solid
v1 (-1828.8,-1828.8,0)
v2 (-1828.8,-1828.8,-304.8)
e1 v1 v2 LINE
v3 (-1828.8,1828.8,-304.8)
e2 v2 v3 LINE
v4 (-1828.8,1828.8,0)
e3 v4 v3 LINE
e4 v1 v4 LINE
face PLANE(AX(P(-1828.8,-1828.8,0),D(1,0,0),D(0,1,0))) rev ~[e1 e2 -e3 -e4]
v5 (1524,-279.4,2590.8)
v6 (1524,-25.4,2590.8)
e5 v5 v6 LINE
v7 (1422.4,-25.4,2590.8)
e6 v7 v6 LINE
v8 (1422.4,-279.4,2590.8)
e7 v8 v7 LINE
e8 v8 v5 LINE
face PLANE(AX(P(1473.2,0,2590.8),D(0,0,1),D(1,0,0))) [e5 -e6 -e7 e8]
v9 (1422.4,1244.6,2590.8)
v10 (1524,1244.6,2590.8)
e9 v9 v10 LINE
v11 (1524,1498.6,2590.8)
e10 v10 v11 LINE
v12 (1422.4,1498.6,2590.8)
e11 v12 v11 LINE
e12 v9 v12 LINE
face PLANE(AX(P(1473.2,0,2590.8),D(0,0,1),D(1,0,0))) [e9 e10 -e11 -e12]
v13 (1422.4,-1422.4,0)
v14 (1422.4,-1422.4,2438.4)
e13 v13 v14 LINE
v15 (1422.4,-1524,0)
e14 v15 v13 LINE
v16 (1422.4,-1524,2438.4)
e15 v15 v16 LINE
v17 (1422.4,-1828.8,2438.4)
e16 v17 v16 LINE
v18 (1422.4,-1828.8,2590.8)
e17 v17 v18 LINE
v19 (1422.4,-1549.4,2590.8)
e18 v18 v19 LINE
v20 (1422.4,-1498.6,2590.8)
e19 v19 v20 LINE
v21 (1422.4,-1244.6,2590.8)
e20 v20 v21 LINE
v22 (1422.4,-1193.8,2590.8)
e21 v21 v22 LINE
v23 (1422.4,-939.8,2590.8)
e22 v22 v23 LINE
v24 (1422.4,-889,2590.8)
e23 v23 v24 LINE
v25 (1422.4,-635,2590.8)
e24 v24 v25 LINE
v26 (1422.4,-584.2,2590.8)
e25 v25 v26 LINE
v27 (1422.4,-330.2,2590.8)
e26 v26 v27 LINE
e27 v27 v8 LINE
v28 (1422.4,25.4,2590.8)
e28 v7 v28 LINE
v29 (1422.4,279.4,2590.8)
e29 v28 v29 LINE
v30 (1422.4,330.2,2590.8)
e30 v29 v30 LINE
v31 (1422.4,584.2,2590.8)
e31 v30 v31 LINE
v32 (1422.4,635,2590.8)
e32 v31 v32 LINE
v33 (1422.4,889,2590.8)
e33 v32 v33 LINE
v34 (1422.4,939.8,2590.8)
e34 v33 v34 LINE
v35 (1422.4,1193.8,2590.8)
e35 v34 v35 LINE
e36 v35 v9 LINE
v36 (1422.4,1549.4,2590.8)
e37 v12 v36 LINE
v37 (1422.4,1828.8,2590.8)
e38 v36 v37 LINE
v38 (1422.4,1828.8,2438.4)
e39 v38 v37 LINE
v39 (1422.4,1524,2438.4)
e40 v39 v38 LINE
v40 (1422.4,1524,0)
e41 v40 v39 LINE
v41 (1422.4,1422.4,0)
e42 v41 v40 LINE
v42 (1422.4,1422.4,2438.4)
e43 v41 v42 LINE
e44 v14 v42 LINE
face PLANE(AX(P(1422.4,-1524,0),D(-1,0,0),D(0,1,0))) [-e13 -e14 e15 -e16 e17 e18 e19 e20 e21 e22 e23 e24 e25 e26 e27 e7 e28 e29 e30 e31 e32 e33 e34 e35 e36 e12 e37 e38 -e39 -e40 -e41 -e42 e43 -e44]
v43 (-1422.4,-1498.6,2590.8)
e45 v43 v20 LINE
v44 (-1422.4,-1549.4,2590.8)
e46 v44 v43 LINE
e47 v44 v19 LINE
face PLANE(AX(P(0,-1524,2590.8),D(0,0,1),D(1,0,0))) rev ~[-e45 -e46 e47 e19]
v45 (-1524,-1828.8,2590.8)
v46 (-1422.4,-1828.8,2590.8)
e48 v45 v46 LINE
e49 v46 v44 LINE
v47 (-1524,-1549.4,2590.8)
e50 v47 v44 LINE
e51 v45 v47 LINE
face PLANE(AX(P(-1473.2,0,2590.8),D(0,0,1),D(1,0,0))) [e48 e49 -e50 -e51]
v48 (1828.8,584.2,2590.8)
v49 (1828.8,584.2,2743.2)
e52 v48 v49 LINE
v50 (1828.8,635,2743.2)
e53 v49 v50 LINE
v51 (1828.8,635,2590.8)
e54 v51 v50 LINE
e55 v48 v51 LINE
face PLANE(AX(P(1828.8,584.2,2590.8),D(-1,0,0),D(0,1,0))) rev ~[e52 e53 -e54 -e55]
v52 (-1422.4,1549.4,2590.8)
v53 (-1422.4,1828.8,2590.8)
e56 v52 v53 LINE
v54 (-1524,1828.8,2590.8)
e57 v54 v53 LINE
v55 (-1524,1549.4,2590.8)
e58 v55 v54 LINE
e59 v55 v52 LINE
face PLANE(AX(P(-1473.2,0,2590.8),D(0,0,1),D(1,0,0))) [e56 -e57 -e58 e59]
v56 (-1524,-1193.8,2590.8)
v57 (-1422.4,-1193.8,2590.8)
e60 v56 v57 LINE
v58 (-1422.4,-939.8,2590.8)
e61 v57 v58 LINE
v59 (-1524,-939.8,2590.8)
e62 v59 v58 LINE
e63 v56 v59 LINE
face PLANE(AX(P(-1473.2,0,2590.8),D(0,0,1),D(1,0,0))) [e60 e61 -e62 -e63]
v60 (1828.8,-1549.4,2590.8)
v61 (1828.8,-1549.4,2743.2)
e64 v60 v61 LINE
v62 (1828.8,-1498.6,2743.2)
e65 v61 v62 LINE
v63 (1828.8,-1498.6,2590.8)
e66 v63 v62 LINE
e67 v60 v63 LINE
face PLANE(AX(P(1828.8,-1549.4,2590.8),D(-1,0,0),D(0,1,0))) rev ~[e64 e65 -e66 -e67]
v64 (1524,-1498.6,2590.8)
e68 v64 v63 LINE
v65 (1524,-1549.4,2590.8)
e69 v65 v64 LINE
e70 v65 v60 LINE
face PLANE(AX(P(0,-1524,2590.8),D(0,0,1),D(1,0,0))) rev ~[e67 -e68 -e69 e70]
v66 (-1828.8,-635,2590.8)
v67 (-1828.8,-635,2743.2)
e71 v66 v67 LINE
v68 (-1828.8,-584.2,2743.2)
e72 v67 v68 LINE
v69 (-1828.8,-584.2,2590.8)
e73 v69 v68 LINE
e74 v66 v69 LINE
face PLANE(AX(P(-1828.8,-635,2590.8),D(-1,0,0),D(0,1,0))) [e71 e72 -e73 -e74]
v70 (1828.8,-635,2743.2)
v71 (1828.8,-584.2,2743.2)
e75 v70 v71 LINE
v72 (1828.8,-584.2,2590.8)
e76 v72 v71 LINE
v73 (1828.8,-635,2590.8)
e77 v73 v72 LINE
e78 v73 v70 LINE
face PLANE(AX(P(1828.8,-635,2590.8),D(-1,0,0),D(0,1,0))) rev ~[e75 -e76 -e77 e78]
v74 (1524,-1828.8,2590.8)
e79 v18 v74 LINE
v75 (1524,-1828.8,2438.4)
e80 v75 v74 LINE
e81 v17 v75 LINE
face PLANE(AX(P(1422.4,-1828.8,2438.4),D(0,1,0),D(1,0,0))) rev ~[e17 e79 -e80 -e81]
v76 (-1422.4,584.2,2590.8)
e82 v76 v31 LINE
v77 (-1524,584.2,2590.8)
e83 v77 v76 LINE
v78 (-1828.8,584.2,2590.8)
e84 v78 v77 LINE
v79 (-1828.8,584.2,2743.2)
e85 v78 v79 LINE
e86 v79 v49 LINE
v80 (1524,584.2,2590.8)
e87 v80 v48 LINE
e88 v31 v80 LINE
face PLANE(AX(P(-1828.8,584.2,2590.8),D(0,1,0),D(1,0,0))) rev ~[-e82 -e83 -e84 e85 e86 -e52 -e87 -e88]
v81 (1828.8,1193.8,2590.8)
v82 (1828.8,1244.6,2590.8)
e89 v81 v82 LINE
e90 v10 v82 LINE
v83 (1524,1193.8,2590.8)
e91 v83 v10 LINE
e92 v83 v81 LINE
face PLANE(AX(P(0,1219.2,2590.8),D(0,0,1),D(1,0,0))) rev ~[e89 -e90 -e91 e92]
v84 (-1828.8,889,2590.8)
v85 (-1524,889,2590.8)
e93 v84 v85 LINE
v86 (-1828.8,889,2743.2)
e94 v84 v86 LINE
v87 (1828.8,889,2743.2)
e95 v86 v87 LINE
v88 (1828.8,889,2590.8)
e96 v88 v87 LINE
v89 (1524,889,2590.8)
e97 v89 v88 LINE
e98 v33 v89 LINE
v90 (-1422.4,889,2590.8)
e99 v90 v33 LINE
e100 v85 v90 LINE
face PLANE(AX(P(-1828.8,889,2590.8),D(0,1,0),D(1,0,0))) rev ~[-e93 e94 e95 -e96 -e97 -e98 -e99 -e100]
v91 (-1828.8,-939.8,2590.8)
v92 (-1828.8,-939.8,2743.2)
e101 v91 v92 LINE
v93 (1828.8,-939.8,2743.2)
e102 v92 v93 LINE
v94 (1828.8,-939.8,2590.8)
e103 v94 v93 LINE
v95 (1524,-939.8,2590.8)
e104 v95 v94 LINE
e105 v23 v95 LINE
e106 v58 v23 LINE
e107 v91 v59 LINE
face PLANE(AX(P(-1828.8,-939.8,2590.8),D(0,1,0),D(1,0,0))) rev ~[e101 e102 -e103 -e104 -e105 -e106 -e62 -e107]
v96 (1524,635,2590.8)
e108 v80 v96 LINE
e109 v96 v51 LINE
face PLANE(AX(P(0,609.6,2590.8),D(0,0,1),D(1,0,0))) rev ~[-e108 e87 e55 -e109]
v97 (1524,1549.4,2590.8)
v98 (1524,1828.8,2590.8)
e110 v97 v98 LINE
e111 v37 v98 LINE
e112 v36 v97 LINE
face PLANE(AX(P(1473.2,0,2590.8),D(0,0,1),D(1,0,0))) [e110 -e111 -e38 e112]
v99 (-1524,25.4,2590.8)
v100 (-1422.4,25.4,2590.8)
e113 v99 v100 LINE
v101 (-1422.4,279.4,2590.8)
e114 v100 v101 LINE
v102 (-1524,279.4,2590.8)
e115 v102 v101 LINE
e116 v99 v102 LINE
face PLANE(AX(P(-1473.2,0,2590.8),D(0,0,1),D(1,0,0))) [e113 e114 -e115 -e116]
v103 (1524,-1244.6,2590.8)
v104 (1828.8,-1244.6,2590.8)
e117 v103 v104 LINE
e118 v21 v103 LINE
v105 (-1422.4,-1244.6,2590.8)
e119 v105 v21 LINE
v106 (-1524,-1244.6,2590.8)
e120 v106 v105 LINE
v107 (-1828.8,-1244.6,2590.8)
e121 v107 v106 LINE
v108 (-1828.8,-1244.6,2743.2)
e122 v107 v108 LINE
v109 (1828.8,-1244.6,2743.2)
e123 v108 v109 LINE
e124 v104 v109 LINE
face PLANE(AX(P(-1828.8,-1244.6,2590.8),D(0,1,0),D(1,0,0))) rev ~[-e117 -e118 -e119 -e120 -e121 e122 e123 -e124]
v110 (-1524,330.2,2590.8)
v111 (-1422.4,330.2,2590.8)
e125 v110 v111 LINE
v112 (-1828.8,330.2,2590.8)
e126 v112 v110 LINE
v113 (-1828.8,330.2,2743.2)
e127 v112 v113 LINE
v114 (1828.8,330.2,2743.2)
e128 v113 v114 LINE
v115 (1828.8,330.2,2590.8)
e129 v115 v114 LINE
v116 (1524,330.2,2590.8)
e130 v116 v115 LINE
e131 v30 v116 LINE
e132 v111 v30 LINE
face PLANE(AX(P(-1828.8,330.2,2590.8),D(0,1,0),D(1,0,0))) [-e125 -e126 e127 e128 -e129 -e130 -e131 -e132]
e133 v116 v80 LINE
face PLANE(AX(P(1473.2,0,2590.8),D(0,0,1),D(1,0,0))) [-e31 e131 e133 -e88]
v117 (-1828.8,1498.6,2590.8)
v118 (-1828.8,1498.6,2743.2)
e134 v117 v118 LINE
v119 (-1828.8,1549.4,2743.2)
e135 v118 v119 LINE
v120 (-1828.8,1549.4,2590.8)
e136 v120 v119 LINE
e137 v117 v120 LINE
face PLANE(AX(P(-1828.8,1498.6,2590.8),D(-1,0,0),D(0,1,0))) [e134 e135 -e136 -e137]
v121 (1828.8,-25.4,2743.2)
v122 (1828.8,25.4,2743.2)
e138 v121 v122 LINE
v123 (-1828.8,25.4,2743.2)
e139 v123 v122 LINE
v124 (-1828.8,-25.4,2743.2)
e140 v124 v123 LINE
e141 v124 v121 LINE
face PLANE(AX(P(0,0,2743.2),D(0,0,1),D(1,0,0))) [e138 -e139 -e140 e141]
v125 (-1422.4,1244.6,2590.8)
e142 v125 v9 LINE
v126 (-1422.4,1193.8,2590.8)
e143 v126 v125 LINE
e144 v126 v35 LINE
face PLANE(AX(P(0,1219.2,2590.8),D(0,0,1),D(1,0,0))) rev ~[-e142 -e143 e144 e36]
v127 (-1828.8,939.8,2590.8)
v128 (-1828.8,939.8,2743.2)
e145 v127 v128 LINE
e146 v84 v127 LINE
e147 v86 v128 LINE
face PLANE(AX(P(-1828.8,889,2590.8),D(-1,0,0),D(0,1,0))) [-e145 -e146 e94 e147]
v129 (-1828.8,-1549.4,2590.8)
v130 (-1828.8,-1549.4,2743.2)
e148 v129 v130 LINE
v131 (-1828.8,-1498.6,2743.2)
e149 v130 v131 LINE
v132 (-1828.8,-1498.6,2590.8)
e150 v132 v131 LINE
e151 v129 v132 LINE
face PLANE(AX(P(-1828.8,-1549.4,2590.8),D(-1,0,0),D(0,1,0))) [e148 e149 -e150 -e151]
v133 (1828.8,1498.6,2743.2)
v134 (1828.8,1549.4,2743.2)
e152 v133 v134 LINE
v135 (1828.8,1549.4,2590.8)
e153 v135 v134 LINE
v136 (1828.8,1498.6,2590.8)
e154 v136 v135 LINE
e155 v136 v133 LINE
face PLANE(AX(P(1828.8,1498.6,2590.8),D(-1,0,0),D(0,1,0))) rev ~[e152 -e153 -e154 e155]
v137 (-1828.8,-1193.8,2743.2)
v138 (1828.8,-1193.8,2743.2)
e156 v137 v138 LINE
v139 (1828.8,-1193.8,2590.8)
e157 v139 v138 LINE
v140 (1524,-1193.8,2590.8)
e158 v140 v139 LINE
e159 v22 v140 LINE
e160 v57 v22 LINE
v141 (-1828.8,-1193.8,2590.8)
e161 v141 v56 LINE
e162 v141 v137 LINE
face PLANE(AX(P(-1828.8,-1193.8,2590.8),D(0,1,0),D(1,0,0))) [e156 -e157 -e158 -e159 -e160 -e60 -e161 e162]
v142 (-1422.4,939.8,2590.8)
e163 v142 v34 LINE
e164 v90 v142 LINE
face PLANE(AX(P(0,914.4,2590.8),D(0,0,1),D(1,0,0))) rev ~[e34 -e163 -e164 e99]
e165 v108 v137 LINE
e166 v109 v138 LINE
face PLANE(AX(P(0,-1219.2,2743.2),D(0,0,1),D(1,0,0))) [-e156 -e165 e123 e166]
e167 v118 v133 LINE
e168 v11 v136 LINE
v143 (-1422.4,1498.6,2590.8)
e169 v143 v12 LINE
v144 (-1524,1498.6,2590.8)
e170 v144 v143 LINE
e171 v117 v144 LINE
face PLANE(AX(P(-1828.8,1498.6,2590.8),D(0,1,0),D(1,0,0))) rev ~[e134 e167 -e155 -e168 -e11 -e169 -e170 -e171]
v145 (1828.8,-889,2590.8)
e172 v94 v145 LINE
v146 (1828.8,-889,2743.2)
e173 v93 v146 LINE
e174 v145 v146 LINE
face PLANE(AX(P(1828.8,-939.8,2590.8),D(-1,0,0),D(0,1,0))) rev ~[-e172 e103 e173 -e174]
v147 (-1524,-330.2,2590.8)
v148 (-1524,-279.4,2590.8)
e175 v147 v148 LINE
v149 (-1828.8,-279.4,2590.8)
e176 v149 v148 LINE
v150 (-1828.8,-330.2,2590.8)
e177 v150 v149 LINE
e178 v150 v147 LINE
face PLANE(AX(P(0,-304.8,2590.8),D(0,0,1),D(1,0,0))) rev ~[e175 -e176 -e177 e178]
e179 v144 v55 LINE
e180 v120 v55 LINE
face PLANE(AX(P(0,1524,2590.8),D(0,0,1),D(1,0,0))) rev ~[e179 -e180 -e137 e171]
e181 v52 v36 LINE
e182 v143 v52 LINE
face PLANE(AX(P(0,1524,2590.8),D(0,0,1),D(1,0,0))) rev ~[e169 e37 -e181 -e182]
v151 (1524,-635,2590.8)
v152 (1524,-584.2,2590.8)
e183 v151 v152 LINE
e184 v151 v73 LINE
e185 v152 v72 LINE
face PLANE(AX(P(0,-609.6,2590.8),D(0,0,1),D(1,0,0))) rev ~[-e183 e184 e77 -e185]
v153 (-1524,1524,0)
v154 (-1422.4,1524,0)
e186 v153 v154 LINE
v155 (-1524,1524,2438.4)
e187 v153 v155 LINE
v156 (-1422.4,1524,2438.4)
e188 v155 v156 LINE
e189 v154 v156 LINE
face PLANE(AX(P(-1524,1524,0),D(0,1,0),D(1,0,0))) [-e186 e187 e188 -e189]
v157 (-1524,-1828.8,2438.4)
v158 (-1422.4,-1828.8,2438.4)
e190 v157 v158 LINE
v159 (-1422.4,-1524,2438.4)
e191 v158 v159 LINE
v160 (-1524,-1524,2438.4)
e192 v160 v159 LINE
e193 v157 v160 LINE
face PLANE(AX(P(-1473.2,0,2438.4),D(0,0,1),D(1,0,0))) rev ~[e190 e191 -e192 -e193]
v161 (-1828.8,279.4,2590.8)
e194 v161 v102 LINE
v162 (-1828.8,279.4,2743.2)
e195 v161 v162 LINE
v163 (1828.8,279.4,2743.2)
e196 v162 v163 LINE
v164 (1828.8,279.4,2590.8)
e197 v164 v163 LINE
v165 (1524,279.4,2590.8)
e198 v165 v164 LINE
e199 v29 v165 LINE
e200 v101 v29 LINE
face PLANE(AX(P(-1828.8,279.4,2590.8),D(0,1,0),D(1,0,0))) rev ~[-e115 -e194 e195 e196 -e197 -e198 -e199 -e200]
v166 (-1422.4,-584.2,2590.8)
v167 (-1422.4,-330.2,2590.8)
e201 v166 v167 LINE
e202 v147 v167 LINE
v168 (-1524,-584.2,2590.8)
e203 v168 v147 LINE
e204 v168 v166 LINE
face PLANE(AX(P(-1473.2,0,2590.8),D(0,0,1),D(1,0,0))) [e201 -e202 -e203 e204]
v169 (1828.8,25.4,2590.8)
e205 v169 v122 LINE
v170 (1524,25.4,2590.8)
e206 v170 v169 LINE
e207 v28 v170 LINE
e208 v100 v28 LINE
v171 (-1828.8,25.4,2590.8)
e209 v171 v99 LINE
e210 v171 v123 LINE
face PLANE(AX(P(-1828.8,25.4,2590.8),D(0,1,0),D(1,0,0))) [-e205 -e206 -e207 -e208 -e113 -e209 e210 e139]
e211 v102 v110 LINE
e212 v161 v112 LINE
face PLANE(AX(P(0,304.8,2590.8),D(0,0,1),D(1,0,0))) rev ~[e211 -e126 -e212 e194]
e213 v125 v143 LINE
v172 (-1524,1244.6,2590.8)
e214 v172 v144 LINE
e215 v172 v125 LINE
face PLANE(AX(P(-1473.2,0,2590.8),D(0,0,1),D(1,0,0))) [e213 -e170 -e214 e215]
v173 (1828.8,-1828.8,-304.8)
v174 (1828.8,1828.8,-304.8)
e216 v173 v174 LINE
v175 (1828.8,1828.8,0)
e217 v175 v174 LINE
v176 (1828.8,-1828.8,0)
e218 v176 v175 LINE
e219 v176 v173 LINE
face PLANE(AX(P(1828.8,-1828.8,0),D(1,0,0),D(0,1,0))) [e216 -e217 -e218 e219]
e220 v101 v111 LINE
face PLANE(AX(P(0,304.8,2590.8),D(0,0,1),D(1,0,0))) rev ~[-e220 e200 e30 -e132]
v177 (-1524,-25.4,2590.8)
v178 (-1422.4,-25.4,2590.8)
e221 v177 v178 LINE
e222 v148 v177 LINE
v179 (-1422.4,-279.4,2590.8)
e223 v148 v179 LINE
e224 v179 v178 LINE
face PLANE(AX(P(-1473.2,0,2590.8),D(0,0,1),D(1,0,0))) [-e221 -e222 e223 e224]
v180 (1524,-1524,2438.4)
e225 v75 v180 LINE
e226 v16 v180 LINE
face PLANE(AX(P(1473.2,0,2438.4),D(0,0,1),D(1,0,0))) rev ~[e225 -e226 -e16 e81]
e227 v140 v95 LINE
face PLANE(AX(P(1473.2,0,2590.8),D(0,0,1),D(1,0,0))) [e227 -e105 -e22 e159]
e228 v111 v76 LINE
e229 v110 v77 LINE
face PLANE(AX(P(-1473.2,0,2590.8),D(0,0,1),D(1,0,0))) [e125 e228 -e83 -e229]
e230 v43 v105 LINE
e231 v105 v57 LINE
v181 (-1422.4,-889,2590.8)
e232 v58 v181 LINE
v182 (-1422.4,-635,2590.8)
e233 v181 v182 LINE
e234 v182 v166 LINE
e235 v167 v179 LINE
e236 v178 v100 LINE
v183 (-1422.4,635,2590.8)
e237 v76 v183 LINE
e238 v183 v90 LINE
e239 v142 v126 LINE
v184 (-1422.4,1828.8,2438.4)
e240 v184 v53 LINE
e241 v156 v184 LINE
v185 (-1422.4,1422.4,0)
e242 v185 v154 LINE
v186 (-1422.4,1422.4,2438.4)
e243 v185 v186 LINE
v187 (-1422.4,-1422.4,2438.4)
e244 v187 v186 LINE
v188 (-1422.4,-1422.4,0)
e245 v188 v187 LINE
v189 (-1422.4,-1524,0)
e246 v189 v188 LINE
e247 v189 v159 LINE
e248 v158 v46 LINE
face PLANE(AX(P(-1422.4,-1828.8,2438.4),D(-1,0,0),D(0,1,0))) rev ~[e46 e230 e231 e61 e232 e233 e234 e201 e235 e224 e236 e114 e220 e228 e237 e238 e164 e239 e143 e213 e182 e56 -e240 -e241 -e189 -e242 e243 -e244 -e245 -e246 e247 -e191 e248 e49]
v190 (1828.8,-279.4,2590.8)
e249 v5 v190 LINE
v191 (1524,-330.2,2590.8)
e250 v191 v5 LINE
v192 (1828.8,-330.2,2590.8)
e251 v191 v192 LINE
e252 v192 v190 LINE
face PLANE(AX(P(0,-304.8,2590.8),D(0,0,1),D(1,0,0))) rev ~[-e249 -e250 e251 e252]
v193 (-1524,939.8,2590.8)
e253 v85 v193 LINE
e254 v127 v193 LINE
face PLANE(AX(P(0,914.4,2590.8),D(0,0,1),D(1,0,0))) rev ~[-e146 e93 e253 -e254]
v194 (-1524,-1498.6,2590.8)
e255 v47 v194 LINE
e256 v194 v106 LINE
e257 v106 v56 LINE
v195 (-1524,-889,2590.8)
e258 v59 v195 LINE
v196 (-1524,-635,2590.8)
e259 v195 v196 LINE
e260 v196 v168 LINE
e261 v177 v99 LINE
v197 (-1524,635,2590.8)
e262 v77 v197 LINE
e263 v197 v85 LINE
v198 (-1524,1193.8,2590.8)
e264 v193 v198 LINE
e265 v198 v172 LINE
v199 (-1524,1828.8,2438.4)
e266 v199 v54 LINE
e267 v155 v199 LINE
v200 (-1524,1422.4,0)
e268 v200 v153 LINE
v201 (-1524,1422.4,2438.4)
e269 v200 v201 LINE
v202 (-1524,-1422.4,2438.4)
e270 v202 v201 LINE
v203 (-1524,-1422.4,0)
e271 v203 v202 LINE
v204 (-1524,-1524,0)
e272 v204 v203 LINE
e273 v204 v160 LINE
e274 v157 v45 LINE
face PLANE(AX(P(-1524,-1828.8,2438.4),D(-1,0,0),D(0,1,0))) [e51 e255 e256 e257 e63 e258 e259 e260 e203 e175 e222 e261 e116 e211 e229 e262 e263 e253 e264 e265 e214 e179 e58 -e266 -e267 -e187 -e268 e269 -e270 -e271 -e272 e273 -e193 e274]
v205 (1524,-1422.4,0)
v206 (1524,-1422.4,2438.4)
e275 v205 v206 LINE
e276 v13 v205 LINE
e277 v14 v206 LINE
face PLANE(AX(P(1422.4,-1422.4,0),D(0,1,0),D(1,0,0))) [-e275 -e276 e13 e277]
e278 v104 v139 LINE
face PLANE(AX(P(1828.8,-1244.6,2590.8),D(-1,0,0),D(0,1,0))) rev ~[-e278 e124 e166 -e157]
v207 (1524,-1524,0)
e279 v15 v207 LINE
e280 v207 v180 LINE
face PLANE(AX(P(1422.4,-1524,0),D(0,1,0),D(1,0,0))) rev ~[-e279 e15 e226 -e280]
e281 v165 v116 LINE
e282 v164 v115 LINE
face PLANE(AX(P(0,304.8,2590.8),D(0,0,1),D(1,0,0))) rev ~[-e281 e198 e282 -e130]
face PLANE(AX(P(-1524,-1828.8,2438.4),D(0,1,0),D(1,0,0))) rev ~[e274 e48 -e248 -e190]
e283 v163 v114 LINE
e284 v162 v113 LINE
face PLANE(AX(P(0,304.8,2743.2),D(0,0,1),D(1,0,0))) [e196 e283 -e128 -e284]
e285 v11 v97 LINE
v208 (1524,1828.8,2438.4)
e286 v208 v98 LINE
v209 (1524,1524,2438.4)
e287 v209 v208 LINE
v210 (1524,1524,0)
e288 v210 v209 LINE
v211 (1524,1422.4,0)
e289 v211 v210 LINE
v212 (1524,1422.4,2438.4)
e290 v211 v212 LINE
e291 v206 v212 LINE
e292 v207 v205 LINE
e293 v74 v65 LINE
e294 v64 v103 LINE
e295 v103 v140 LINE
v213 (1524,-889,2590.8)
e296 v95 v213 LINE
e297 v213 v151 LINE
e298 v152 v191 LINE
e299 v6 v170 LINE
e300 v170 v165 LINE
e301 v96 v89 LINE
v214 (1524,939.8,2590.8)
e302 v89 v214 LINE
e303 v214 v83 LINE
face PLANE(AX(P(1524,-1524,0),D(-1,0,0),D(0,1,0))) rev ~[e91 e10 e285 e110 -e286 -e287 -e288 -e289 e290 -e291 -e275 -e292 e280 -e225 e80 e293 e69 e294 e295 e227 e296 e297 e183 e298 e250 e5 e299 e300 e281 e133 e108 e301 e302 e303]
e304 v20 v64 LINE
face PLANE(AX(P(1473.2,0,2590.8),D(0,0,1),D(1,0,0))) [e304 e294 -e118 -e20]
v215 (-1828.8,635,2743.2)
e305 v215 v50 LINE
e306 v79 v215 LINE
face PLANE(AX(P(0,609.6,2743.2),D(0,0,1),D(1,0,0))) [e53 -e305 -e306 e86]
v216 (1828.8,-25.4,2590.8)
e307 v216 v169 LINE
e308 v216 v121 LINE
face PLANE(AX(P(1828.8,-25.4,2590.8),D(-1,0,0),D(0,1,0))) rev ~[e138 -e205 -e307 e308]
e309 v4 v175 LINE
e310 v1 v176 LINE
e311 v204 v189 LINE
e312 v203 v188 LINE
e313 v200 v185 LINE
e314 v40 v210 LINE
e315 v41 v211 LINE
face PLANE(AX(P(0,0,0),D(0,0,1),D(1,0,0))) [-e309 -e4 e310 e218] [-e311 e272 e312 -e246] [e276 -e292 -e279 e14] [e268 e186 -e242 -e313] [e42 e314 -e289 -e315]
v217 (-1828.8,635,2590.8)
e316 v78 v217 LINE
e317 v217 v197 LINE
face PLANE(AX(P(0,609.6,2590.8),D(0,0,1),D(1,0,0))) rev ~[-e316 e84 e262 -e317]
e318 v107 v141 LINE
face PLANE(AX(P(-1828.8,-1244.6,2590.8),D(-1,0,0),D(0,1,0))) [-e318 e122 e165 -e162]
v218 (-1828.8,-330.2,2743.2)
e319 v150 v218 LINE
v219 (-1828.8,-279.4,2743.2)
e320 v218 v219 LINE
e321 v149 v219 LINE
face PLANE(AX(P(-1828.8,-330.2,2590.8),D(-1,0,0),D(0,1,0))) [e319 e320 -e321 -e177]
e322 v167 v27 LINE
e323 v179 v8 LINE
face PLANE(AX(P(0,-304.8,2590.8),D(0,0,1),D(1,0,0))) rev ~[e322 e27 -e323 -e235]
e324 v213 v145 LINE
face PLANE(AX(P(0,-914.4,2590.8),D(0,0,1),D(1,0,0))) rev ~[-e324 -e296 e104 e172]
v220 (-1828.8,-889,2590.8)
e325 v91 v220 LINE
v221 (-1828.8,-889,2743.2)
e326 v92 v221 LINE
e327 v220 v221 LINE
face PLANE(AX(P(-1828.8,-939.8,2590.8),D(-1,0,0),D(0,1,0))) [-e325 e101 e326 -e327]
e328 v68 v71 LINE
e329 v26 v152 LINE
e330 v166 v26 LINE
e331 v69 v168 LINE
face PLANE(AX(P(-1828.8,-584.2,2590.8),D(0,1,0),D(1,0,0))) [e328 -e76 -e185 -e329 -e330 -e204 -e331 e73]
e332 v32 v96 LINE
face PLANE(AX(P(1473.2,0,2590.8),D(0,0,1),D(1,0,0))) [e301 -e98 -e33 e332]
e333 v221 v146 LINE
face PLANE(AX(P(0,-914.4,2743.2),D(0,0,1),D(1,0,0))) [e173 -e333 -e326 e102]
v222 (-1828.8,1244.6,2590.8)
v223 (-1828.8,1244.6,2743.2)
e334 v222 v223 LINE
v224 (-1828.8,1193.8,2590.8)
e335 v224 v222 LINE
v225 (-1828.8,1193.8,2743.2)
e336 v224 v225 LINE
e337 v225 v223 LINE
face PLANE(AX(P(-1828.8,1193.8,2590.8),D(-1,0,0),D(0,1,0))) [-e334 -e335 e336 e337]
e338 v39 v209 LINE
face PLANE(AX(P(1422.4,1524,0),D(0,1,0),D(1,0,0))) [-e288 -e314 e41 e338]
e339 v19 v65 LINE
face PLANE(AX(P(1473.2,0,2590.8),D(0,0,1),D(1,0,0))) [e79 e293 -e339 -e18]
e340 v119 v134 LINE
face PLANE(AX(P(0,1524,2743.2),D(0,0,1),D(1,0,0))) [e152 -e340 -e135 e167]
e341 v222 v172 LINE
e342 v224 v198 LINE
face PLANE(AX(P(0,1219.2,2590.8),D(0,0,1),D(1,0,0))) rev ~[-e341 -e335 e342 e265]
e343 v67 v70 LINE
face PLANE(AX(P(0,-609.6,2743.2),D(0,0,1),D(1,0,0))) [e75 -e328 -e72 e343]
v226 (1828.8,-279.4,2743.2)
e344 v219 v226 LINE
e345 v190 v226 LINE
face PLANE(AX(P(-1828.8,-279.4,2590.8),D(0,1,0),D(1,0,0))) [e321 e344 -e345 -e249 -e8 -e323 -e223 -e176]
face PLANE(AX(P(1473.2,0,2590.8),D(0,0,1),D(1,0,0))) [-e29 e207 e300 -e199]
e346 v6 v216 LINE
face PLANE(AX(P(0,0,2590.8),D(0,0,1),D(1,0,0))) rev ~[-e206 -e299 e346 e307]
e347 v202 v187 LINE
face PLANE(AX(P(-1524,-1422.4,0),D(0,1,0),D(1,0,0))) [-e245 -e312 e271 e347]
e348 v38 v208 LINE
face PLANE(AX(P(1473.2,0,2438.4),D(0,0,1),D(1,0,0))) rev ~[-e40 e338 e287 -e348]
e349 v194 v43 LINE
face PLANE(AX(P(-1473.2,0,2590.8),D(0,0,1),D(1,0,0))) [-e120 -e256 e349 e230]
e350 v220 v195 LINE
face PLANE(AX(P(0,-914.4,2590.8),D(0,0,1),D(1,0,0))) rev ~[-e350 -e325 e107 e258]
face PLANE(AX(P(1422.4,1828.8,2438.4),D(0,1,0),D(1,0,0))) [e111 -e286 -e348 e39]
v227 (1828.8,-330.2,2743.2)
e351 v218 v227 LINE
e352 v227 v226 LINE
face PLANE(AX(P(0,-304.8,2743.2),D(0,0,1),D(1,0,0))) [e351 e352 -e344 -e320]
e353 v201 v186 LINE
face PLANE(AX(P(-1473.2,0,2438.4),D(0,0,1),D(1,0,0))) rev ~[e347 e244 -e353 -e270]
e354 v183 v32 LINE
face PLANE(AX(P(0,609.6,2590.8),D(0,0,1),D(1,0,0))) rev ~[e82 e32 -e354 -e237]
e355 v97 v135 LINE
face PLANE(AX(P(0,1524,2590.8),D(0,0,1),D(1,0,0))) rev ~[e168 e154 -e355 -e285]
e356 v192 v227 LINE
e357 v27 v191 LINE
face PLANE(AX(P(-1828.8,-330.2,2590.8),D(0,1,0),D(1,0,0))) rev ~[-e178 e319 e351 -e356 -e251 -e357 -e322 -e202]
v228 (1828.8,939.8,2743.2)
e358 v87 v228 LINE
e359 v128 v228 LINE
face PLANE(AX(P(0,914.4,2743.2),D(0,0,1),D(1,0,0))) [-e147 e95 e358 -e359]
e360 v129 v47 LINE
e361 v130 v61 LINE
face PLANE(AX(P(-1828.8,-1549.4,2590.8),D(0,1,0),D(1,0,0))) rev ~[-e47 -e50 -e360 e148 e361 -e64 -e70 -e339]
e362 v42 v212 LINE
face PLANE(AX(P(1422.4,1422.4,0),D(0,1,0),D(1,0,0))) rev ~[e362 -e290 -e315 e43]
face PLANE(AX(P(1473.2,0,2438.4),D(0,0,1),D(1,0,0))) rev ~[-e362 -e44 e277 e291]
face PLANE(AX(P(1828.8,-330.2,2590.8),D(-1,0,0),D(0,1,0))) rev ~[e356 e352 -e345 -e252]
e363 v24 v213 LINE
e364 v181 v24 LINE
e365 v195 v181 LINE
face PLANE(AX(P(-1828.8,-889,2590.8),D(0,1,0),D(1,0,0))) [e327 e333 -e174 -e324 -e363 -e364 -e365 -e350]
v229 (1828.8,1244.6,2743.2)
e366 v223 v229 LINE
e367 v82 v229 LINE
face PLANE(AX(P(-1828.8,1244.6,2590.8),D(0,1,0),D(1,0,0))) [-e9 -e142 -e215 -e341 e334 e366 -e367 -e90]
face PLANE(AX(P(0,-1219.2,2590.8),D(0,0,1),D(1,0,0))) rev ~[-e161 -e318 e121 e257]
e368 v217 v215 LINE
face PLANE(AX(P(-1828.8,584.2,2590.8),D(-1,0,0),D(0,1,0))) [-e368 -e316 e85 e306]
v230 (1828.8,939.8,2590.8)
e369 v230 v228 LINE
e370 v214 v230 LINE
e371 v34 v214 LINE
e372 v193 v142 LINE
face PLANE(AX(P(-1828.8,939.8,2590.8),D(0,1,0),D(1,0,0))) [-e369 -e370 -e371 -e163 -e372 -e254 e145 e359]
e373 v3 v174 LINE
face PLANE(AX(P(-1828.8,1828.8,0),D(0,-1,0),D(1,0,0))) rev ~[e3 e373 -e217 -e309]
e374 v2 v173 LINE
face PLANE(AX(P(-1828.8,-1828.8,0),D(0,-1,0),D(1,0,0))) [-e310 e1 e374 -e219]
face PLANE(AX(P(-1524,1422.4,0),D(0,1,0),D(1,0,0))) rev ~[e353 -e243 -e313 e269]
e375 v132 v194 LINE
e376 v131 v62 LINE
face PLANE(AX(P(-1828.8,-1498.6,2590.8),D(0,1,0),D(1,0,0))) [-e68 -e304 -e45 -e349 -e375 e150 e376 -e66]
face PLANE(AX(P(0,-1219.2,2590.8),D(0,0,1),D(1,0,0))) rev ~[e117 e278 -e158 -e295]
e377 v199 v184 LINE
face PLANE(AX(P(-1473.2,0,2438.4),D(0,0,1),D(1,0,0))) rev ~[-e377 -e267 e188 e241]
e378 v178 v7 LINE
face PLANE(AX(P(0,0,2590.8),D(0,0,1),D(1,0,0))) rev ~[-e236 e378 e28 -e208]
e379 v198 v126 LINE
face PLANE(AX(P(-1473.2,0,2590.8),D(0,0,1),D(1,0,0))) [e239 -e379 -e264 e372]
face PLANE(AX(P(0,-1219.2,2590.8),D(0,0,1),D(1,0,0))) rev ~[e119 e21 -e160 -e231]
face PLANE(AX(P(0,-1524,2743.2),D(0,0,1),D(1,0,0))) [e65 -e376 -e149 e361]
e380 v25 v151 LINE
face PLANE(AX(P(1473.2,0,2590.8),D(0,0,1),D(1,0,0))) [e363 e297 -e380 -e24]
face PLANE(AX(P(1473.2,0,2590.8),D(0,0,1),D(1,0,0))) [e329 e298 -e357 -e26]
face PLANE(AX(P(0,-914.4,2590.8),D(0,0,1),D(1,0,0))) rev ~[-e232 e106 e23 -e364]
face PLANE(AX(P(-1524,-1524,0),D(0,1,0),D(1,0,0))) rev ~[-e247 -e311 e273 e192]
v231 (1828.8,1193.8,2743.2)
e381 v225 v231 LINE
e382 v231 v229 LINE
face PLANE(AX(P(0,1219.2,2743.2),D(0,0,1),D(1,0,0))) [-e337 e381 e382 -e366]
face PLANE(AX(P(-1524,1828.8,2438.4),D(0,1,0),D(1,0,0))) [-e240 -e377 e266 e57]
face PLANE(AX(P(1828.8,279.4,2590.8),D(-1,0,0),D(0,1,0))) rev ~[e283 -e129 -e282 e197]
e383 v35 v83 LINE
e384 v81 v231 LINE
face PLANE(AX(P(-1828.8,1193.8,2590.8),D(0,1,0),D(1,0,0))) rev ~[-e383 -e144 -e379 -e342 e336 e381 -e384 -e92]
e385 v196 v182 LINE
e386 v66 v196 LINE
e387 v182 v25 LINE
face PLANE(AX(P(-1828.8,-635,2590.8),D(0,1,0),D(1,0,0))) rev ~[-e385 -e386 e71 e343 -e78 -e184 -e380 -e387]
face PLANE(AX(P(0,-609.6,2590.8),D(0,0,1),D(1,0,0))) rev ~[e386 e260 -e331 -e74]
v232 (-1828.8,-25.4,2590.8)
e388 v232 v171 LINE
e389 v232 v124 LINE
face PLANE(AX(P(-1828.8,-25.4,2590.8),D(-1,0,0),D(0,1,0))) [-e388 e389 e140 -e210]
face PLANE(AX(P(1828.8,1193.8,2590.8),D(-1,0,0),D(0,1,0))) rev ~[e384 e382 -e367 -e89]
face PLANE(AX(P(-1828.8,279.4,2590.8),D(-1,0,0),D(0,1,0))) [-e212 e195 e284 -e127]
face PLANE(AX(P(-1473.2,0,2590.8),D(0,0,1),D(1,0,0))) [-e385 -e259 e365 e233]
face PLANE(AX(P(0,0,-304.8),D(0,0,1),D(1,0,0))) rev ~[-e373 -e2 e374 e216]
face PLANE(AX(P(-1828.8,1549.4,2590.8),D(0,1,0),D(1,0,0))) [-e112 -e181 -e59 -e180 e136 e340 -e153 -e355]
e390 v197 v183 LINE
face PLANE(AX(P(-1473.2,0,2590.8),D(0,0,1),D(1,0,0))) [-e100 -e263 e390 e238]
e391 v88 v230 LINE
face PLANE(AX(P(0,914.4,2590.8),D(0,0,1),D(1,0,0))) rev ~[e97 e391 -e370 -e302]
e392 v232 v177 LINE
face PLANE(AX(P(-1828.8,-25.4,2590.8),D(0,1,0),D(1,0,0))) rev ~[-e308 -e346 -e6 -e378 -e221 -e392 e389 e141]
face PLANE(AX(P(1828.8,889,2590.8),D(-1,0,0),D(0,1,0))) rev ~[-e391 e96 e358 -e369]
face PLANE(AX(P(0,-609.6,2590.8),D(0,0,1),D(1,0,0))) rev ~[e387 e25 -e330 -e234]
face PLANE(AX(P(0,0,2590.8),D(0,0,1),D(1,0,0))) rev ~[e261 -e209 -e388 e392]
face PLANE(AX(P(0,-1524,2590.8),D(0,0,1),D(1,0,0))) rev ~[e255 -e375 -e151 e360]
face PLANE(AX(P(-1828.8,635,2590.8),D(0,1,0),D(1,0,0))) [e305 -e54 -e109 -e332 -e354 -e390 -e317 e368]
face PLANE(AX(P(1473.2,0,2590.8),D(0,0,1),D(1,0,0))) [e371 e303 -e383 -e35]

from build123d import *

# Parameters (mm, degrees)
F0_W     = 3657.6
F0_H     = 3657.6
F1_DEPTH = 304.8
F2_W     = 101.6
F2_H     = 101.6
F3_DEPTH = 2438.4
F4_W     = 101.6
F4_H     = 3657.6
F5_DEPTH = 152.4
F6_W     = 3657.6
F6_H     = 50.8
F7_DEPTH = 152.4


with BuildPart() as f1:
    # F0 (on Top) → F1 (new body)
    with BuildSketch(Plane.XY):
        Rectangle(F0_W, F0_H)
    extrude(amount=-F1_DEPTH)

    # F2 (on face) → F3 (join)
    with BuildSketch(Plane.XY):
        with Locations((-1473.2, 1473.2)):
            Rectangle(F2_W, F2_H)
        with Locations((1473.2, 1473.2)):
            Rectangle(F2_W, F2_H)
        with Locations((1473.2, -1473.2)):
            Rectangle(F2_W, F2_H)
        with Locations((-1473.2, -1473.2)):
            Rectangle(F2_W, F2_H)
    extrude(amount=F3_DEPTH)

    # F4 (on face) → F5 (join)
    with BuildSketch(Plane.XY.offset(2438.4)):
        with Locations((-1473.2, 0)):
            Rectangle(F4_W, F4_H)
        with Locations((1473.2, 0)):
            Rectangle(F4_W, F4_H)
    extrude(amount=F5_DEPTH)

    # F6 (on face) → F7 (join)
    with BuildSketch(Plane.XY.offset(2590.8)):
        with Locations((0, -1524)):
            Rectangle(F6_W, F6_H)
        with Locations((0, -1219.2)):
            Rectangle(F6_W, F6_H)
        with Locations((0, -914.4)):
            Rectangle(F6_W, F6_H)
        with Locations((0, -609.6)):
            Rectangle(F6_W, F6_H)
        with Locations((0, -304.8)):
            Rectangle(F6_W, F6_H)
        Rectangle(F6_W, F6_H)
        with Locations((0, 304.8)):
            Rectangle(F6_W, F6_H)
        with Locations((0, 609.6)):
            Rectangle(F6_W, F6_H)
        with Locations((0, 914.4)):
            Rectangle(F6_W, F6_H)
        with Locations((0, 1219.2)):
            Rectangle(F6_W, F6_H)
        with Locations((0, 1524)):
            Rectangle(F6_W, F6_H)
    extrude(amount=F7_DEPTH)


solid = f1.part
